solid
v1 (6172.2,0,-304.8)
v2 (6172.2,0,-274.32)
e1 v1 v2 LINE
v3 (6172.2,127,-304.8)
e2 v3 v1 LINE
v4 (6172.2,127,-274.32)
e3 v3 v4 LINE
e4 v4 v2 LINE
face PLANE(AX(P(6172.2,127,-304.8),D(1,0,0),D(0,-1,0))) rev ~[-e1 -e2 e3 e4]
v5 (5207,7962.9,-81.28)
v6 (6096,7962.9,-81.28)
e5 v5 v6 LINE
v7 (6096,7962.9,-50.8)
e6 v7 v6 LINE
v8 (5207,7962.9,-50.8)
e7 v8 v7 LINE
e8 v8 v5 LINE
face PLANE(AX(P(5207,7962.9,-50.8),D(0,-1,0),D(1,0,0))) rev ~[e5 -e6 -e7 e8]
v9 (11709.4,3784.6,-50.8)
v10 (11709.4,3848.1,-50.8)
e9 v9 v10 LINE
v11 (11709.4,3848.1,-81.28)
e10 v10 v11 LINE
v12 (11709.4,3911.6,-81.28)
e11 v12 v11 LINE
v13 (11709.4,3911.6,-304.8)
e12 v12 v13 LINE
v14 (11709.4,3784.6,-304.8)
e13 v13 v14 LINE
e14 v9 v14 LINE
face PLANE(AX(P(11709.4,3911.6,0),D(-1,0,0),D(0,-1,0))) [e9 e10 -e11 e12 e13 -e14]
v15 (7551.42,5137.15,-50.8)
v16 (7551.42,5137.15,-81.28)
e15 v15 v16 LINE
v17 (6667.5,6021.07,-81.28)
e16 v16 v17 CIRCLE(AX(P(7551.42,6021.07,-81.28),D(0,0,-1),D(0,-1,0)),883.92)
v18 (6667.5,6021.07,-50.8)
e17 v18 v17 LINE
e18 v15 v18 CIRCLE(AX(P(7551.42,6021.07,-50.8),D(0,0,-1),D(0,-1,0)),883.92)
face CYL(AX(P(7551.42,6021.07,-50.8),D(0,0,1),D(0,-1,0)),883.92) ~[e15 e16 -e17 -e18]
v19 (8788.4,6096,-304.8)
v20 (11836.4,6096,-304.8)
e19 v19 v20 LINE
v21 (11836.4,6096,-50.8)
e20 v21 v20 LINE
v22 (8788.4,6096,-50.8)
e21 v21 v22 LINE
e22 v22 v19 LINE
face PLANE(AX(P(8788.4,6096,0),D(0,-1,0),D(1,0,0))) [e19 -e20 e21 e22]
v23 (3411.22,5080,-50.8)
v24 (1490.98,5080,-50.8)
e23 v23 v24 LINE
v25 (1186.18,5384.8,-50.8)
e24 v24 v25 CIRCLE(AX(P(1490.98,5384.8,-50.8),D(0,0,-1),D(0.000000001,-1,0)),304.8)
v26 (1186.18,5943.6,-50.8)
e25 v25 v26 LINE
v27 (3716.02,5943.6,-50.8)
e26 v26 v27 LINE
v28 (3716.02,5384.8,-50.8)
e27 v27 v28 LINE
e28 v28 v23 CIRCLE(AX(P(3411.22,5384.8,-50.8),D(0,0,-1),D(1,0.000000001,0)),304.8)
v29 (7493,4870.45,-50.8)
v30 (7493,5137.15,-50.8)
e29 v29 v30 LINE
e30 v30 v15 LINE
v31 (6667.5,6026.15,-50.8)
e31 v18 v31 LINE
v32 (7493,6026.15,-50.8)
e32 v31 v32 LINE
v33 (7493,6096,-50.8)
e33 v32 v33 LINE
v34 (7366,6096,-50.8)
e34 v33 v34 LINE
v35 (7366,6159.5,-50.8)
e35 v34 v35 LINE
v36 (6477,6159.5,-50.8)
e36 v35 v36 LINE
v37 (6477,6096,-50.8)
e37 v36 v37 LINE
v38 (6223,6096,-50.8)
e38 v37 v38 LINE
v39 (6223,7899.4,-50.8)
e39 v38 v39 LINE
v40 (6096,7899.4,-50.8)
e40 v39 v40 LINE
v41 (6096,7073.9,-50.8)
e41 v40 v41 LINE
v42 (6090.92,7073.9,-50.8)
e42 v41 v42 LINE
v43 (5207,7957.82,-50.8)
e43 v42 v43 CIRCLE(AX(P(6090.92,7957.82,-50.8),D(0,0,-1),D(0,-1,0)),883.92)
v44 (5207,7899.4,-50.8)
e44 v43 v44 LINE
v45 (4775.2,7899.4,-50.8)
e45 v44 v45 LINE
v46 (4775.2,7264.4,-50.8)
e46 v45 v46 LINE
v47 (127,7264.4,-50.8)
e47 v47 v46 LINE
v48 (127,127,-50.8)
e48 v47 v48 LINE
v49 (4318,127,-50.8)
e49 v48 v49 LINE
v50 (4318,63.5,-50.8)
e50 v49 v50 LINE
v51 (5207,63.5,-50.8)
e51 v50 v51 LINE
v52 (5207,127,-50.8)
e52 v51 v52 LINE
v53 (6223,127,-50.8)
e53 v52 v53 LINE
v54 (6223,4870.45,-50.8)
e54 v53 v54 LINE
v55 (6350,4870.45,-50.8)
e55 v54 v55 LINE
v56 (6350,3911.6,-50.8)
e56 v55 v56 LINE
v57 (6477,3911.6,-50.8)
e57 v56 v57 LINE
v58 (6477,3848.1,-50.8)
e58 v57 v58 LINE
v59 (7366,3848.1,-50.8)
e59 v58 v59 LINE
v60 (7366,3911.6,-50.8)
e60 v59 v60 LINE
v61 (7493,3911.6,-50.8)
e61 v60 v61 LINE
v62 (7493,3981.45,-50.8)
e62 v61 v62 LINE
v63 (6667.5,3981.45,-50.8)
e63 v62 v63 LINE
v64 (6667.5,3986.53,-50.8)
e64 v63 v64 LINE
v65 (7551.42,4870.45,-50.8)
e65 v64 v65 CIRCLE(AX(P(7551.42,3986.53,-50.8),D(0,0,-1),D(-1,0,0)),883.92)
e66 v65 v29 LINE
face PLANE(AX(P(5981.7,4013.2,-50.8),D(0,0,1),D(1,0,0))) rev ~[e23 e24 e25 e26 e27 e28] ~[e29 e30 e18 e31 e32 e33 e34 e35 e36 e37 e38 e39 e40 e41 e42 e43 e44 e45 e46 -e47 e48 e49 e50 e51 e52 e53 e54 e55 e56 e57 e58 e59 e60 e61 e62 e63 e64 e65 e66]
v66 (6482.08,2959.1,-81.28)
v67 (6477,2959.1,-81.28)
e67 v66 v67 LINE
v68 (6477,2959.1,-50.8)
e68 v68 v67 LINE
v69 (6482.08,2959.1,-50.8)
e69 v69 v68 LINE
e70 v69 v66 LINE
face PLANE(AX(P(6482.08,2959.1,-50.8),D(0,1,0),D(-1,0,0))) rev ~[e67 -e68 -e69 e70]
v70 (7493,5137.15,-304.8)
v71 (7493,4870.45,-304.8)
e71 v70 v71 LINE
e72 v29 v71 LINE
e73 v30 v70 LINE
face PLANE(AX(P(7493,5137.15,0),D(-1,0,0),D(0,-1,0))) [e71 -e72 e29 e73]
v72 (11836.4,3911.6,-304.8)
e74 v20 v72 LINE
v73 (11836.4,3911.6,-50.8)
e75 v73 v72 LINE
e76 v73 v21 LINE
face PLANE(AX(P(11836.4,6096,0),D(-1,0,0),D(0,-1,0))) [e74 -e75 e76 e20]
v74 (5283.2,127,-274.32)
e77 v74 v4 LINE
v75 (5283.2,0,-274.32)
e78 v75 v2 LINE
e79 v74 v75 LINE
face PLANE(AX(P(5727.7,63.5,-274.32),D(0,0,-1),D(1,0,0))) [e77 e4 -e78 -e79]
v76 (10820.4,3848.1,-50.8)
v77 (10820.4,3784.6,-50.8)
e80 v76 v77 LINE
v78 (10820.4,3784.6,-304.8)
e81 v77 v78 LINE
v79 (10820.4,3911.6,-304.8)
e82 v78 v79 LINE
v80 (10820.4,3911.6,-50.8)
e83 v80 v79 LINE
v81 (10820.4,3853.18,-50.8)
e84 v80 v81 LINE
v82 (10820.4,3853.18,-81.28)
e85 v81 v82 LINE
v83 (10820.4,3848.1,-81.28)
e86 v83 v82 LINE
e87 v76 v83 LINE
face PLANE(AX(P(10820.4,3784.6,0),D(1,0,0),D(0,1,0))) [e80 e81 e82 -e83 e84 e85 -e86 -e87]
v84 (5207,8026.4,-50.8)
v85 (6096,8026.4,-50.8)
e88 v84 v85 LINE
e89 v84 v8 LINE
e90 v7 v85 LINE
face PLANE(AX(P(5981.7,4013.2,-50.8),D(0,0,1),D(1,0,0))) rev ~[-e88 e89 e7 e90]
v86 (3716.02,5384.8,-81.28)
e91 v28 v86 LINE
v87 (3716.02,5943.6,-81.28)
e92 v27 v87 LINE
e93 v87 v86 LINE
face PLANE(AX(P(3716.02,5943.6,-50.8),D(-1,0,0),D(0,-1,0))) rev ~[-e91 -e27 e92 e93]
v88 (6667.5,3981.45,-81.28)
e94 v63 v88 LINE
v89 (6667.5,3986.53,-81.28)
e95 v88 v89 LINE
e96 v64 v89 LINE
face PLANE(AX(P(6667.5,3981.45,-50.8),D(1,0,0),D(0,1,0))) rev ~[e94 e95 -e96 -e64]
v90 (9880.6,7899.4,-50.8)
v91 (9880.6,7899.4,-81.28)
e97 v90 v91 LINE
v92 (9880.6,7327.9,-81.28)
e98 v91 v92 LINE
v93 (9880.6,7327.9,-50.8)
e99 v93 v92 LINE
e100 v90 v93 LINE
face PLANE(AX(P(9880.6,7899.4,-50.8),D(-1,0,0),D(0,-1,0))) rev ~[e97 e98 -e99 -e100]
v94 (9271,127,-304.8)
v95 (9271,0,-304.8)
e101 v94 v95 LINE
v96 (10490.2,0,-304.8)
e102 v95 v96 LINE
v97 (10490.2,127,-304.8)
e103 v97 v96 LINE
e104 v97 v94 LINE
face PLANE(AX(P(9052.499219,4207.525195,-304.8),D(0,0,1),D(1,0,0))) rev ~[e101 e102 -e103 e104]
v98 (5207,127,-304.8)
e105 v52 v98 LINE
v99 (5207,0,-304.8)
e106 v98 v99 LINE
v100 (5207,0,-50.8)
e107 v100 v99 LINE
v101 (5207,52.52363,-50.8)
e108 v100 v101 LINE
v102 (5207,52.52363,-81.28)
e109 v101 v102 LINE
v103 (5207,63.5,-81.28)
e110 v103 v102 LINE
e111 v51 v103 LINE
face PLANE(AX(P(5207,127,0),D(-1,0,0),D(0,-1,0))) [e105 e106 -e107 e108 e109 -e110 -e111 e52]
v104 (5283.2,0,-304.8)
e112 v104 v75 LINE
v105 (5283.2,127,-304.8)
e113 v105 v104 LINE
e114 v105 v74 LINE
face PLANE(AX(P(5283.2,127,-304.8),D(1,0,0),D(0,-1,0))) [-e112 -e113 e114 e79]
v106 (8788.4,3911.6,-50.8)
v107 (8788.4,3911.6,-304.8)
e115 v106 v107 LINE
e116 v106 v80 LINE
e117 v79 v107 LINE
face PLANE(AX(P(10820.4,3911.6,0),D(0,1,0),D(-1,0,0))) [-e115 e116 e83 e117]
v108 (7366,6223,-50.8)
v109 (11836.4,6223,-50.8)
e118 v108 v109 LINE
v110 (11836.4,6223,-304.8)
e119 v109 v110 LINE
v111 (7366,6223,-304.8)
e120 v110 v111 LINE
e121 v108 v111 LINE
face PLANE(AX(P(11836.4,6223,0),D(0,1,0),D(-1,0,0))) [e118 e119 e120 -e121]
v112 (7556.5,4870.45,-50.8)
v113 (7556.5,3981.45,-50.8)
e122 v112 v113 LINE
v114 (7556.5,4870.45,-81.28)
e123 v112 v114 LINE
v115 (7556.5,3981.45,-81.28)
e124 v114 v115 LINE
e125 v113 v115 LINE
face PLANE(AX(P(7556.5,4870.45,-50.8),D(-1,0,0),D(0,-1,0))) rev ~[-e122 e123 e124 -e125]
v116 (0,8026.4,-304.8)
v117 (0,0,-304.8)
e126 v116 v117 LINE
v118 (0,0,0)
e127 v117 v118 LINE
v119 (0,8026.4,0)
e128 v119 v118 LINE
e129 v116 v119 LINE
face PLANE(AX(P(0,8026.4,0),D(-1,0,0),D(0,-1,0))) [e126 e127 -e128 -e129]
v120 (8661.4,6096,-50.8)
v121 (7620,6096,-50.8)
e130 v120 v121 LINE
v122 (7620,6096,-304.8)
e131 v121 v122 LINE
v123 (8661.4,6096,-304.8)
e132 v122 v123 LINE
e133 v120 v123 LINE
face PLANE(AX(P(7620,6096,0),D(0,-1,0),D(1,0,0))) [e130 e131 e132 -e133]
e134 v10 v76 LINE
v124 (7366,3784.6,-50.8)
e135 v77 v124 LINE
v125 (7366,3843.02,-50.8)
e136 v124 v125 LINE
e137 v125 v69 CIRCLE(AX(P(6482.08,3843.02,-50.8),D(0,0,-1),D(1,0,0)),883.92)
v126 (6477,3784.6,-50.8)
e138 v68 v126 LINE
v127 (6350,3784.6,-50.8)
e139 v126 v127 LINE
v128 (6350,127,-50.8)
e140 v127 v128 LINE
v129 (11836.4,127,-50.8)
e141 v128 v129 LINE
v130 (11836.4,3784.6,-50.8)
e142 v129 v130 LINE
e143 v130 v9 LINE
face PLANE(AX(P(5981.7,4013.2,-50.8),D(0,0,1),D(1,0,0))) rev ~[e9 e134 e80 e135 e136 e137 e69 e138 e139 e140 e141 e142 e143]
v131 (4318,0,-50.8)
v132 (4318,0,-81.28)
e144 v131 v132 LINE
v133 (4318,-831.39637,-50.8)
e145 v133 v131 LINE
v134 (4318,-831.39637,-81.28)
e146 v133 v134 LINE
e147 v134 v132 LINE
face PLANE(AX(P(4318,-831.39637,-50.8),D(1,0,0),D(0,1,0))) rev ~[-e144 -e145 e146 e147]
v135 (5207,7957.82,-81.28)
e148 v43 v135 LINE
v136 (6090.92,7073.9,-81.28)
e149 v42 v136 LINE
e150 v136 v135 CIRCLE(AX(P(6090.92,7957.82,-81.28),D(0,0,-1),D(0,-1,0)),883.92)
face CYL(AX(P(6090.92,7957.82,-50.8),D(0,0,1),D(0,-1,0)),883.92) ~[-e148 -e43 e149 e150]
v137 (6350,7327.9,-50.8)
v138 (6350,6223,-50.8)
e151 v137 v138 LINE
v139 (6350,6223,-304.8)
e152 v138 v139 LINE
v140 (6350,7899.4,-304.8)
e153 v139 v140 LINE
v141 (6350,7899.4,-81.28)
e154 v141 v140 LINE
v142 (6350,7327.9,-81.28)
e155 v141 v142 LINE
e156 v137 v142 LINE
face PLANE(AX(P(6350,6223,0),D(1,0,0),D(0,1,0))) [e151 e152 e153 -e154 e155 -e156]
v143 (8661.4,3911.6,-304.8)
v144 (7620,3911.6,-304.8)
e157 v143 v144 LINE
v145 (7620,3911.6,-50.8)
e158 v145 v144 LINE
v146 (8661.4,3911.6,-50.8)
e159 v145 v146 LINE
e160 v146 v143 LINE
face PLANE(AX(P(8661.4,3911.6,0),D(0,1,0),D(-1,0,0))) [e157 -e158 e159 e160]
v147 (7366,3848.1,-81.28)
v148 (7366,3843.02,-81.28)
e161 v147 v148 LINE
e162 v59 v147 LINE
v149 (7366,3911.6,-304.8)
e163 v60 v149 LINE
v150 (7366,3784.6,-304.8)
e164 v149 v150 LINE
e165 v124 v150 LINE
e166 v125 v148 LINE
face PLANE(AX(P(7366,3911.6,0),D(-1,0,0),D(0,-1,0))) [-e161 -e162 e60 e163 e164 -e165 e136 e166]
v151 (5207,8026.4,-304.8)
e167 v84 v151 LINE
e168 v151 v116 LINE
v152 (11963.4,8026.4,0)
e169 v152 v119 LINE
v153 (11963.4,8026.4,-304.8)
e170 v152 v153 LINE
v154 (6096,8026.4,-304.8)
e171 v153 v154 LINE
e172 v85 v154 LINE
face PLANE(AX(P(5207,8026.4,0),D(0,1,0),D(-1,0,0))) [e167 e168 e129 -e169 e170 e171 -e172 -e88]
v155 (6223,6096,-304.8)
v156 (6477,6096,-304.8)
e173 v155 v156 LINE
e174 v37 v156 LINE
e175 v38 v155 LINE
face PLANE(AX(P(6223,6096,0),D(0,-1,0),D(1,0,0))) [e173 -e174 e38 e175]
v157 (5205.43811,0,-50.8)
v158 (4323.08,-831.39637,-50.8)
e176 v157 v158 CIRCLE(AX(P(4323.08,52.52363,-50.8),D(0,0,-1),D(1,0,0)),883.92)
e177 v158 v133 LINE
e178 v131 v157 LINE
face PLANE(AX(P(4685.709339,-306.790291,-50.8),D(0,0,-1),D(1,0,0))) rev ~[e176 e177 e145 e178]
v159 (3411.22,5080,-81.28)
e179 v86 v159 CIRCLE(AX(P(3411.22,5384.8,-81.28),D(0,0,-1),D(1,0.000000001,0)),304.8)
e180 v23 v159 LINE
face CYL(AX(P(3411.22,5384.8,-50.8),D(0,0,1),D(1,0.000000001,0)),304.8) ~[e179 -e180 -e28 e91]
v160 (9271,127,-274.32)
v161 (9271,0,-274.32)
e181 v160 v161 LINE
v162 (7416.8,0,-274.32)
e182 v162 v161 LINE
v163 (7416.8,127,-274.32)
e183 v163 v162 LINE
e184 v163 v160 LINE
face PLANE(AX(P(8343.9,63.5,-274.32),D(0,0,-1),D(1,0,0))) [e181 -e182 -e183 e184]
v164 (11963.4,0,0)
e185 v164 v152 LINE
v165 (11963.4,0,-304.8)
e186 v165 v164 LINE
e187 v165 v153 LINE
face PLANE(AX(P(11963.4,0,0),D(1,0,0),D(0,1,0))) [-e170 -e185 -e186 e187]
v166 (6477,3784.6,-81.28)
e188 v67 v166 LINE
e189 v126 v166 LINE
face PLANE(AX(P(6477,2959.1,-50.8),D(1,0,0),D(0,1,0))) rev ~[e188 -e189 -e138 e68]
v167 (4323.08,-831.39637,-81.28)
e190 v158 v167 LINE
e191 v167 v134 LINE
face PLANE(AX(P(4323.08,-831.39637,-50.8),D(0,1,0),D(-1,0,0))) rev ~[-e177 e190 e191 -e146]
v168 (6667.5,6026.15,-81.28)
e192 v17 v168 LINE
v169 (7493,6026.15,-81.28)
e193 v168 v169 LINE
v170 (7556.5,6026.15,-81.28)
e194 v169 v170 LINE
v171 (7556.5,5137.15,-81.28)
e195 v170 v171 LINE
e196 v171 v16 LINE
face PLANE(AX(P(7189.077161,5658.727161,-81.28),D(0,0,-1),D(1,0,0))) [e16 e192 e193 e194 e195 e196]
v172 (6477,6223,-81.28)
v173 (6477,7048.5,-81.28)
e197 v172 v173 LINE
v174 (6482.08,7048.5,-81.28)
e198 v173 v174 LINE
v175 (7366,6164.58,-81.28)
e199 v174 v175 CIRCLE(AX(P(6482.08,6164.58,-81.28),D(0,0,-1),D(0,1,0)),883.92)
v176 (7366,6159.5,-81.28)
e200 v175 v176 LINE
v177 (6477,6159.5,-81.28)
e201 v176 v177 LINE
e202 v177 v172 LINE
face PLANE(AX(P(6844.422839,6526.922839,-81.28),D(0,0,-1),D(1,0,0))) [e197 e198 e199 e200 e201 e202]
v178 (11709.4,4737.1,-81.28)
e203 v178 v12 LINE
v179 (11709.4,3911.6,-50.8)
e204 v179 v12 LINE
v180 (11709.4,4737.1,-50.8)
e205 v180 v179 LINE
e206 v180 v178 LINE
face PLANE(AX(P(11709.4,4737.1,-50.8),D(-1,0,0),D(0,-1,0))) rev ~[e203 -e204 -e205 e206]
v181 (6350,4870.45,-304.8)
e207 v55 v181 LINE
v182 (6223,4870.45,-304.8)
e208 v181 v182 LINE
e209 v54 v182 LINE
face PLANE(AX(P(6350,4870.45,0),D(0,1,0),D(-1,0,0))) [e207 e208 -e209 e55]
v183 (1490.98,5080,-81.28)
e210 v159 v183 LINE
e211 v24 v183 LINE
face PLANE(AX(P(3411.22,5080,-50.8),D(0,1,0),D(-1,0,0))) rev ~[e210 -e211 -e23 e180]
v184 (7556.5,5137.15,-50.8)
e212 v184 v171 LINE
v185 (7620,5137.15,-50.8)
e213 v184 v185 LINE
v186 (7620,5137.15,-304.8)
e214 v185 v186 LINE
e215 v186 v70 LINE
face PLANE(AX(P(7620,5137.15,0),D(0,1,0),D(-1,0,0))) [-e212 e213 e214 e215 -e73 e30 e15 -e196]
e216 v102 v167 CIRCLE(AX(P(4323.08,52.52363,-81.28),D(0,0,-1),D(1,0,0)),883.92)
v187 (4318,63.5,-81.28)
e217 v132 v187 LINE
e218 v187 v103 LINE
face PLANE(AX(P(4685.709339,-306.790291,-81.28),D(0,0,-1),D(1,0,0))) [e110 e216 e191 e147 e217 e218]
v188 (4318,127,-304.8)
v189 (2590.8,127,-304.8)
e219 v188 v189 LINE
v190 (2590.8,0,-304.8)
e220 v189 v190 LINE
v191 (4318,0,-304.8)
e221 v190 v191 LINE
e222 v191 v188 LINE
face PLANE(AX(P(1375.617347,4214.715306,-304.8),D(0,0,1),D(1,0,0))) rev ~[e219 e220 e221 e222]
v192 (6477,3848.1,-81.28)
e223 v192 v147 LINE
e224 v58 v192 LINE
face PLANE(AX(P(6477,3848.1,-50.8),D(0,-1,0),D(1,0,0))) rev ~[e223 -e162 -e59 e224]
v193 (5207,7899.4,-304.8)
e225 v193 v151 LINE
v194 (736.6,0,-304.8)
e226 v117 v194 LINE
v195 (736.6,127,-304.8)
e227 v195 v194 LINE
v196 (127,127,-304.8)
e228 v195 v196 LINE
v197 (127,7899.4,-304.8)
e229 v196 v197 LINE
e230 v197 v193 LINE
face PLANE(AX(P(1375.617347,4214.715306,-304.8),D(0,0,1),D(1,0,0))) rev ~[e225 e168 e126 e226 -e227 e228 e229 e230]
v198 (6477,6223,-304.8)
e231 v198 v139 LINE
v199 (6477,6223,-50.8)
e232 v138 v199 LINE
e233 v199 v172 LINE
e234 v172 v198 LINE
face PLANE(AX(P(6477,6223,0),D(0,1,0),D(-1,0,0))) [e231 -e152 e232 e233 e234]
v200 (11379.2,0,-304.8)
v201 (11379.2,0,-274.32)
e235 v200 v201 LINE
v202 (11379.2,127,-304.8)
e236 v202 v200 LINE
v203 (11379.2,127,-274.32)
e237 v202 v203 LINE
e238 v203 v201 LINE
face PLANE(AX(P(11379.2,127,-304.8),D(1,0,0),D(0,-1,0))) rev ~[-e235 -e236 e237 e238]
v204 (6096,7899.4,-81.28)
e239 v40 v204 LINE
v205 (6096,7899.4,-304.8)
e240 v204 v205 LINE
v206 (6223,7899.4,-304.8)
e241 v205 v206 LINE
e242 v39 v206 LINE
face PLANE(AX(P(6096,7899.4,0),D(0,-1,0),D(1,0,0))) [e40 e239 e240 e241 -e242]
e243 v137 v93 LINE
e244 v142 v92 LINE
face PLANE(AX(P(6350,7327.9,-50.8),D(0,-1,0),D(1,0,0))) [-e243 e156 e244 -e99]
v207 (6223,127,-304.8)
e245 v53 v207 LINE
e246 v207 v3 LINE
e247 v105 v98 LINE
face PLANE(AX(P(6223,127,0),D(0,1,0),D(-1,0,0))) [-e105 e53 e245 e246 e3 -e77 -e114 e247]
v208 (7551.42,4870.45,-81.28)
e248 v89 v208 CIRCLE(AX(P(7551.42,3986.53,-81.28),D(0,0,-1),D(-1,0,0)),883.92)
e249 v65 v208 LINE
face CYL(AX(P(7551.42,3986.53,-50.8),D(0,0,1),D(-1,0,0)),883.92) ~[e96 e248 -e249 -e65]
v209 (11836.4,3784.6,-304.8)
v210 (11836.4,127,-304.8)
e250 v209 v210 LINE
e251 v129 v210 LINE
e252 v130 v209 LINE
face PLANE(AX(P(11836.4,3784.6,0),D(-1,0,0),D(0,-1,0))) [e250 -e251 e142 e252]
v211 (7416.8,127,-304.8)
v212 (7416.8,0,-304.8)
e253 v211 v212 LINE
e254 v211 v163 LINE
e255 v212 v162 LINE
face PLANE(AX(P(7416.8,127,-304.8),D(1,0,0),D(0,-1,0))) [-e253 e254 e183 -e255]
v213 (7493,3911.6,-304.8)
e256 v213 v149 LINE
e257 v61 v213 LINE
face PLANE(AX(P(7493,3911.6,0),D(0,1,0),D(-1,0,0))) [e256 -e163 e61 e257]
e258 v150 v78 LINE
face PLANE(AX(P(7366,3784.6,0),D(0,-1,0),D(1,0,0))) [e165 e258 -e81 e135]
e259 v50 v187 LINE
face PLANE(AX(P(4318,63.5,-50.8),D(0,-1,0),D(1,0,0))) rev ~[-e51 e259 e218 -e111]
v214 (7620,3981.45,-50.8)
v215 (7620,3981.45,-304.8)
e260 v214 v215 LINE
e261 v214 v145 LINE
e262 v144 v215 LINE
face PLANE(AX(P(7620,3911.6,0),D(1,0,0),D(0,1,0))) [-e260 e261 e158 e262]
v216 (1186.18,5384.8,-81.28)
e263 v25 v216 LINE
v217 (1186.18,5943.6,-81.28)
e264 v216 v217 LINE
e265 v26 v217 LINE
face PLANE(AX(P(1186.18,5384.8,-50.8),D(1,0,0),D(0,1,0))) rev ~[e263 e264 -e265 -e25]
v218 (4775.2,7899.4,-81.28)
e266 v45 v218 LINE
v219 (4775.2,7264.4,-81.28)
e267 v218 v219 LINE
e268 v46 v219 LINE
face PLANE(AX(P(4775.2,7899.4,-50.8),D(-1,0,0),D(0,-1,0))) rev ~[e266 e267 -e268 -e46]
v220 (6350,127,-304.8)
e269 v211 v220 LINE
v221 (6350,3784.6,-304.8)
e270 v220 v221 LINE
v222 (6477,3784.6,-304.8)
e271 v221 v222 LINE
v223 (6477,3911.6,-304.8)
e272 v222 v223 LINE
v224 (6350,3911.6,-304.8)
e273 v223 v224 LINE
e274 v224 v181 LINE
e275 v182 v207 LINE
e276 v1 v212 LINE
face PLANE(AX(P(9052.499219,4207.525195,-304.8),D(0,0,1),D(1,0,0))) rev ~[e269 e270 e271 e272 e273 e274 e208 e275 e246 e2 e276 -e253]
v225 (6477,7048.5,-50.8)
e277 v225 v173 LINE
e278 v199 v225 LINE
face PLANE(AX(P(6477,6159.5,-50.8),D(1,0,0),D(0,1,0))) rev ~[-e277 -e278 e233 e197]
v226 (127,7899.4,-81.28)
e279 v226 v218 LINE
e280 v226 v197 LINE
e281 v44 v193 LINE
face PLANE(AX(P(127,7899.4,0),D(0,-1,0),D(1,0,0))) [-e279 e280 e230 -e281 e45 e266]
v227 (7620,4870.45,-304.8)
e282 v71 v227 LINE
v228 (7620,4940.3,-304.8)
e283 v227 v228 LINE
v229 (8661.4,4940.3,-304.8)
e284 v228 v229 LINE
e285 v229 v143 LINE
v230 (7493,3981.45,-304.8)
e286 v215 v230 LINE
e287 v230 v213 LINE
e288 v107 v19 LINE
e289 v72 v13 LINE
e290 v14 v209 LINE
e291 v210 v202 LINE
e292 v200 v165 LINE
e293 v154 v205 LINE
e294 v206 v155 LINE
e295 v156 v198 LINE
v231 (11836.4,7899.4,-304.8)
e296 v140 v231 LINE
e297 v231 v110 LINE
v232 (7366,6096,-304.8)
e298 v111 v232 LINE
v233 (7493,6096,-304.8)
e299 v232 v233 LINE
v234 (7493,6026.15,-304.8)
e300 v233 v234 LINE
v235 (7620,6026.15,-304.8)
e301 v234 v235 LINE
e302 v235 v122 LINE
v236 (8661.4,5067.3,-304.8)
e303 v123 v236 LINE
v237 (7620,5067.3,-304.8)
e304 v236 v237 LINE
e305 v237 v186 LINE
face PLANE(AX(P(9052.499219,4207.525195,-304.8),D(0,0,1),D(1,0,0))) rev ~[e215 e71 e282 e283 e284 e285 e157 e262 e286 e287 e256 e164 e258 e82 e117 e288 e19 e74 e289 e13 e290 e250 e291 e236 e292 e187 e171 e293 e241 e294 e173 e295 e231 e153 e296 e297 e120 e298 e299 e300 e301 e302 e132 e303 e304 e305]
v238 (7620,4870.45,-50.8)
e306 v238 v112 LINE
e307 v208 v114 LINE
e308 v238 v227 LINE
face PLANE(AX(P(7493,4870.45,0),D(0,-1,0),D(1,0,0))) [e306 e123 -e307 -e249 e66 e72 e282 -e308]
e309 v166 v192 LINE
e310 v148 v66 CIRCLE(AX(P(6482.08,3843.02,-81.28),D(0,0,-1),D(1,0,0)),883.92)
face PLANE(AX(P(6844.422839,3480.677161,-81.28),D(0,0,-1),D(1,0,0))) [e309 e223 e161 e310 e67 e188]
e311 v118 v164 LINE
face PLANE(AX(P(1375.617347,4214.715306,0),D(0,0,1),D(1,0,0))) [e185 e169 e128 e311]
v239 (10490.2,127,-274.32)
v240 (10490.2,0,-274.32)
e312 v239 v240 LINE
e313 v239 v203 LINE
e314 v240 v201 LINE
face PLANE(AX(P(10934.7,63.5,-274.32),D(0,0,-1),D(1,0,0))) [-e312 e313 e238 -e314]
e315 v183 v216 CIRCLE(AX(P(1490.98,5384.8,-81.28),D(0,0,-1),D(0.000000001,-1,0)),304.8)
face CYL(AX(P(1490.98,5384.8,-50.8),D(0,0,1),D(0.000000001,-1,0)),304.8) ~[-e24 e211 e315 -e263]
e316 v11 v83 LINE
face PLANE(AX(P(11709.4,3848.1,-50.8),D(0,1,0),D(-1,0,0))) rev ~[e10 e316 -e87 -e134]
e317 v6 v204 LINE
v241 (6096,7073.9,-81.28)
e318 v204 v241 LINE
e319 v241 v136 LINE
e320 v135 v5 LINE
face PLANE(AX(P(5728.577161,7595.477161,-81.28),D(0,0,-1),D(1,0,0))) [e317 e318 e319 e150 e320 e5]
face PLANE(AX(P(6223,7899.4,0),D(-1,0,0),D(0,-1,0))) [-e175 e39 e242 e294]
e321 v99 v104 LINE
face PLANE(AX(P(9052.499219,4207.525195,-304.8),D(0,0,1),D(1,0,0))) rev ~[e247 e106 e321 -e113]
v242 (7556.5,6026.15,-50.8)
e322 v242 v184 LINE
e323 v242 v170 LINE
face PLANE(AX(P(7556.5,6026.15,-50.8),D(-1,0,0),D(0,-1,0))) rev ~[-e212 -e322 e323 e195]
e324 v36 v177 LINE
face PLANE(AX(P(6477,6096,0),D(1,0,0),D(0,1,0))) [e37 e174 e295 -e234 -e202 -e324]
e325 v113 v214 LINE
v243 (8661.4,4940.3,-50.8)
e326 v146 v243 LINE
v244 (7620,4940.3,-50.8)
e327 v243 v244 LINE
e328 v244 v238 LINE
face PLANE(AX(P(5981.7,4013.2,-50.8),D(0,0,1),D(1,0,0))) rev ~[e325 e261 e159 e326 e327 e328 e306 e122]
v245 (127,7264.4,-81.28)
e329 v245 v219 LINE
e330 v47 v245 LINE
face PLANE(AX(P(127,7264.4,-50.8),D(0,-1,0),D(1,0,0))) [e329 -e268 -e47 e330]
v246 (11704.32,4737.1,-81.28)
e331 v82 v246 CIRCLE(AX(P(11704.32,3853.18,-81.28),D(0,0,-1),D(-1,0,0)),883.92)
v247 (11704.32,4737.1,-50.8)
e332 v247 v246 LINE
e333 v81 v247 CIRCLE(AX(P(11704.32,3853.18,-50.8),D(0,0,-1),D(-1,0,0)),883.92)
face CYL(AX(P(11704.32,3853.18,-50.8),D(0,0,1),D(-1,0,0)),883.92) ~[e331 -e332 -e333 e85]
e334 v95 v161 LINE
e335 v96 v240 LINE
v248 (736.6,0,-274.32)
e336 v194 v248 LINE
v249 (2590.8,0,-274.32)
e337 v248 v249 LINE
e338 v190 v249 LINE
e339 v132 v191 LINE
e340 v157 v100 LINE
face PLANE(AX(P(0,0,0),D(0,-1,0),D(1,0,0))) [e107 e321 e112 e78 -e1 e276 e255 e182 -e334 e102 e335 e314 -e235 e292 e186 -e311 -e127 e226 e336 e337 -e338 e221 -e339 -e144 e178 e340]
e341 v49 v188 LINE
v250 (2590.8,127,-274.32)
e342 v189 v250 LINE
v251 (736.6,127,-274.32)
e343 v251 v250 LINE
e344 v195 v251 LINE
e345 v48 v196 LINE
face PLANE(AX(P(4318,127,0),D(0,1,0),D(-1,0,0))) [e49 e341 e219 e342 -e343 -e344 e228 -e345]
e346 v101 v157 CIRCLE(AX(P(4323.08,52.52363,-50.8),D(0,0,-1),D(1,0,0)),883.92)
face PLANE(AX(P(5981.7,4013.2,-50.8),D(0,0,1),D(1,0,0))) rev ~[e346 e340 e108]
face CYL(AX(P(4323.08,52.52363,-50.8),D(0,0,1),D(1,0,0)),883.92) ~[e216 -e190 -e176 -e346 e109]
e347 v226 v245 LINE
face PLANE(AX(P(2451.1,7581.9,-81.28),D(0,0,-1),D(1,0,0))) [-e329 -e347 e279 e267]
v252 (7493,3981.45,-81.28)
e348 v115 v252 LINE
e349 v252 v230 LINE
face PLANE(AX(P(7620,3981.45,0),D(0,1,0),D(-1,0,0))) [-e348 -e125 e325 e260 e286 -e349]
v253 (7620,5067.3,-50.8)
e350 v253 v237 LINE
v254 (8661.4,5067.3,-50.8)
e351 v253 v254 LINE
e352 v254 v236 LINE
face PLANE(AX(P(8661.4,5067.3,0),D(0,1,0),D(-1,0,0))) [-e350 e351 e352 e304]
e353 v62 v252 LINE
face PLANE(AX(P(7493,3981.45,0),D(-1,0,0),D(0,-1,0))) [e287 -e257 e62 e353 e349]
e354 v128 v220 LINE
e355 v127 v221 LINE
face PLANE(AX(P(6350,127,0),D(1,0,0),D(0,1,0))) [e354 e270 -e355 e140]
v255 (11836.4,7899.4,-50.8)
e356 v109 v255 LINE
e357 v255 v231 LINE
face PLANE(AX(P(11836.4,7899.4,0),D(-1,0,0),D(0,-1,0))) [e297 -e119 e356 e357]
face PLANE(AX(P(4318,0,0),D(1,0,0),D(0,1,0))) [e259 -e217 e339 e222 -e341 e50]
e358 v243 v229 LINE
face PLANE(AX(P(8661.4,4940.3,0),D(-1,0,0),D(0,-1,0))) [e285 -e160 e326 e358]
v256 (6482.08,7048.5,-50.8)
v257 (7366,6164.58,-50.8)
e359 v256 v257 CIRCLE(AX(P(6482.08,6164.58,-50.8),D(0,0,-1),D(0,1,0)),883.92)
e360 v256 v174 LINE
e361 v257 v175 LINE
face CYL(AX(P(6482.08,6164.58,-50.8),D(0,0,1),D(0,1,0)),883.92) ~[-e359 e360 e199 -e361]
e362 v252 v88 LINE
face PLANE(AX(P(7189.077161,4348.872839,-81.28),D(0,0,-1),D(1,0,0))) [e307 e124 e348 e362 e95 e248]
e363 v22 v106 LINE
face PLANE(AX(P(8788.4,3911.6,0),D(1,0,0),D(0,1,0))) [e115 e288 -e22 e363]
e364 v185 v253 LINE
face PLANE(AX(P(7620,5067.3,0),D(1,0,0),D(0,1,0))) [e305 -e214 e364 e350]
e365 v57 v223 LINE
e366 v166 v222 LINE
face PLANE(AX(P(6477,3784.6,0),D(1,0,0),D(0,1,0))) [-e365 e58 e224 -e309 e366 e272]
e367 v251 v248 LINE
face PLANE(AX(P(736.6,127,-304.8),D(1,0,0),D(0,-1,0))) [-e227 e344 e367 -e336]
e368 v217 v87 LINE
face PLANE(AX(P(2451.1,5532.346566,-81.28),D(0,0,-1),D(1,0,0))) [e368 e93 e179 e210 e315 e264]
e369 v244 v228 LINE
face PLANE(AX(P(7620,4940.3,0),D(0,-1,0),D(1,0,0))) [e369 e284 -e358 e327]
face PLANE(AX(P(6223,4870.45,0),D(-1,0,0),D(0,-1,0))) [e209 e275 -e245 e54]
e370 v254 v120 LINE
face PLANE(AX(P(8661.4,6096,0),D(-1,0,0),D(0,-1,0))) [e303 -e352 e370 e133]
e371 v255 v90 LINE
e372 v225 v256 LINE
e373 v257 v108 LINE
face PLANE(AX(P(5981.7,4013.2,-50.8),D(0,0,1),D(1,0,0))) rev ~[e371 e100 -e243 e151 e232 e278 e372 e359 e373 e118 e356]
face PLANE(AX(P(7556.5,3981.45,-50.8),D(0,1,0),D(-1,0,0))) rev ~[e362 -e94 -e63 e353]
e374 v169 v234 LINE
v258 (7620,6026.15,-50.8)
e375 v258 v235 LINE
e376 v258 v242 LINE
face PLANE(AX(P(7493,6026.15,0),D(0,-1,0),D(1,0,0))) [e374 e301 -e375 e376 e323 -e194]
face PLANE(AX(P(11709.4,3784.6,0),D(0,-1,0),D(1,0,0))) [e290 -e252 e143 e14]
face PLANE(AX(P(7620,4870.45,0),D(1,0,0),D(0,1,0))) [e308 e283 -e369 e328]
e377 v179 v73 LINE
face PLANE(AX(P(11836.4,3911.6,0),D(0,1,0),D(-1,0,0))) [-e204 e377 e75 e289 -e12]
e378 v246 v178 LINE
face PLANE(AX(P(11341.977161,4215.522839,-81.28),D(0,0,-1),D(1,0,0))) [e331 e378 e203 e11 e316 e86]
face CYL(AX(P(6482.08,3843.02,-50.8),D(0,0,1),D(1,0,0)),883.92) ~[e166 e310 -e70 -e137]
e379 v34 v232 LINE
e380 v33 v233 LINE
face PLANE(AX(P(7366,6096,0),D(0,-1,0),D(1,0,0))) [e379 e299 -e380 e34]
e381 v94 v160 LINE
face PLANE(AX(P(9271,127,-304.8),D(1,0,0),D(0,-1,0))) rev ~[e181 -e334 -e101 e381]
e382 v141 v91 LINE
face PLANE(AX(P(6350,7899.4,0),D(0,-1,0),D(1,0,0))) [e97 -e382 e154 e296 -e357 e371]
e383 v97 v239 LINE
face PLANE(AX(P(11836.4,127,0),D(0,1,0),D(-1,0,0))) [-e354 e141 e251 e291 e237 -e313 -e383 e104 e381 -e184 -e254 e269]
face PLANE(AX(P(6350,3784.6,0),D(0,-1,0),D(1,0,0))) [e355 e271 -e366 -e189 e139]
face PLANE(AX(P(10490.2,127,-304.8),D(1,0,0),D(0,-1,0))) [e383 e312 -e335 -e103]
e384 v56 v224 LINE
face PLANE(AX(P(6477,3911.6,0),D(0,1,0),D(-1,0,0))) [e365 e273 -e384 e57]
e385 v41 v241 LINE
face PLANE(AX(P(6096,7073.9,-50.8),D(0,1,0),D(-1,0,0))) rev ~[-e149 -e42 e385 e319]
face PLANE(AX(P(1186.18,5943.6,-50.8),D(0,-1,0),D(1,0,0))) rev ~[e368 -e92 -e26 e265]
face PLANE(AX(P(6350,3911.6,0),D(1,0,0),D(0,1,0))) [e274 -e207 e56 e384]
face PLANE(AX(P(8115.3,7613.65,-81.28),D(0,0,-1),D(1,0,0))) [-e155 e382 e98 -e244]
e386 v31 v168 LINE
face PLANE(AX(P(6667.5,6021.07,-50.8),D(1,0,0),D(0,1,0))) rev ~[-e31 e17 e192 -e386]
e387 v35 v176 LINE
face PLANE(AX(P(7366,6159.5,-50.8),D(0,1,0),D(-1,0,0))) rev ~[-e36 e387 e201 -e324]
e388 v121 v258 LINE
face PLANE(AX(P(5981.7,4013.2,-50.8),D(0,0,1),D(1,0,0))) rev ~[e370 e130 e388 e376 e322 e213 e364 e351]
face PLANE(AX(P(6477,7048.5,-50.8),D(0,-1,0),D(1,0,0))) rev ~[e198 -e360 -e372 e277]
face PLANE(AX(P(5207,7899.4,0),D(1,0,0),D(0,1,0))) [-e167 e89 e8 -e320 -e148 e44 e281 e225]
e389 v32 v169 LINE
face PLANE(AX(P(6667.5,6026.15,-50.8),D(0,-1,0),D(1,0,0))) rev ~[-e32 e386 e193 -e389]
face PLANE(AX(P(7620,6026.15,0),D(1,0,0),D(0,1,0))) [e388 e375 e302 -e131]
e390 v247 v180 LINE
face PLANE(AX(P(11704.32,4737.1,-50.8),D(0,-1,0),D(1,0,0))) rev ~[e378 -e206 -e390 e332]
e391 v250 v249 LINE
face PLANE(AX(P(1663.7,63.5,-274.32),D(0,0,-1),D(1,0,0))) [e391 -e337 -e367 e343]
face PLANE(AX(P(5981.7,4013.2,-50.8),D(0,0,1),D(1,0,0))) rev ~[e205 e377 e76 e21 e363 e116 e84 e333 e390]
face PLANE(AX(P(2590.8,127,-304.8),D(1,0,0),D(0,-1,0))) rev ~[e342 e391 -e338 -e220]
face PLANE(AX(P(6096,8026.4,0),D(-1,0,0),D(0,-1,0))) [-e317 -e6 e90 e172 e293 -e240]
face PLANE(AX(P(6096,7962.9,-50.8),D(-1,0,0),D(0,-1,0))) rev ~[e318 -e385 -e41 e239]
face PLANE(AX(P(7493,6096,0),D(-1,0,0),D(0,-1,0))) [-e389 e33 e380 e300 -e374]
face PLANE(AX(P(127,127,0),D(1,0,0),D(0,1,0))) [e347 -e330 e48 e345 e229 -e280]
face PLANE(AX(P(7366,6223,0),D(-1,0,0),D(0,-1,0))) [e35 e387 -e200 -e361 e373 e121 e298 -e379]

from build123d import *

# Parameters (mm, degrees)
F1_DEPTH = 304.8
F2_W     = 11963.4
F2_H     = 8026.4
F3_DEPTH = 50.8
F4_W     = 889
F4_H     = 127
F4_W_2   = 1854.2
F5_DEPTH = 30.48
F6_W     = 4648.2
F6_H     = 635
F6_W_2   = 3530.6
F6_H_2   = 571.5
F7_DEPTH = 30.48


with BuildPart() as f1:
    # F0 (on Top) → F1 (new body)
    with BuildSketch(Plane.XY):
        Polygon((4318, 127), (127, 127), (127, 7899.4), (5207, 7899.4), (5207, 8026.4), (0, 8026.4), (0, 0), (4318, 0), align=None)
        Polygon((11963.4, 8026.4), (6096, 8026.4), (6096, 7899.4), (6223, 7899.4), (6223, 6096), (6477, 6096), (6477, 6223), (6350, 6223), (6350, 7899.4), (11836.4, 7899.4), (11836.4, 6223), (7366, 6223), (7366, 6096), (7493, 6096), (7493, 6026.15), (7620, 6026.15), (7620, 6096), (8661.4, 6096), (8661.4, 5067.3), (7620, 5067.3), (7620, 5137.15), (7493, 5137.15), (7493, 4870.45), (7620, 4870.45), (7620, 4940.3), (8661.4, 4940.3), (8661.4, 3911.6), (7620, 3911.6), (7620, 3981.45), (7493, 3981.45), (7493, 3911.6), (7366, 3911.6), (7366, 3784.6), (10820.4, 3784.6), (10820.4, 3911.6), (8788.4, 3911.6), (8788.4, 6096), (11836.4, 6096), (11836.4, 3911.6), (11709.4, 3911.6), (11709.4, 3784.6), (11836.4, 3784.6), (11836.4, 127), (6350, 127), (6350, 3784.6), (6477, 3784.6), (6477, 3911.6), (6350, 3911.6), (6350, 4870.45), (6223, 4870.45), (6223, 127), (5207, 127), (5207, 0), (11963.4, 0), align=None)
    extrude(amount=-F1_DEPTH)

    # F2 (on face) → F3 (join)
    with BuildSketch(Plane.XY):
        with Locations((5981.7, 4013.2)):
            Rectangle(F2_W, F2_H)
    extrude(amount=-F3_DEPTH)

    # F4 (on face) → F5 (cut)
    with BuildSketch(Plane(origin=(0, 0, -304.8), x_dir=(1, 0, 0), z_dir=(0, 0, -1))):
        with Locations((5727.7, -63.5)):
            Rectangle(F4_W, F4_H)
        with Locations((8343.9, -63.5)):
            Rectangle(F4_W_2, F4_H)
        with Locations((10934.7, -63.5)):
            Rectangle(F4_W, F4_H)
        with Locations((1663.7, -63.5)):
            Rectangle(F4_W_2, F4_H)
    extrude(amount=-F5_DEPTH, mode=Mode.SUBTRACT)

    # F6 (on face) → F7 (join)
    with BuildSketch(Plane(origin=(0, 0, -50.8), x_dir=(1, 0, 0), z_dir=(0, 0, -1))):
        with BuildLine():
            ThreePointArc((3716.02, -5384.8), (3626.746147, -5169.273853), (3411.22, -5080))
            Line((3411.22, -5080), (1490.98, -5080))
            ThreePointArc((1490.98, -5080), (1275.453853, -5169.273853), (1186.18, -5384.8))
            Line((1186.18, -5384.8), (1186.18, -5943.6))
            Line((1186.18, -5943.6), (3716.02, -5943.6))
            Line((3716.02, -5943.6), (3716.02, -5384.8))
        make_face()
        with Locations((2451.1, -7581.9)):
            Rectangle(F6_W, F6_H)
        with Locations((8115.3, -7613.65)):
            Rectangle(F6_W_2, F6_H_2)
        with BuildLine():
            Line((4318, 831.39637), (4318, -63.5))
            Line((4318, -63.5), (5207, -63.5))
            Line((5207, -63.5), (5207, -52.52363))
            ThreePointArc((5207, -52.52363), (4948.105826, 572.502196), (4323.08, 831.39637))
            Line((4323.08, 831.39637), (4318, 831.39637))
        make_face()
        with BuildLine():
            Line((6477, -2959.1), (6477, -3848.1))
            Line((6477, -3848.1), (7366, -3848.1))
            Line((7366, -3848.1), (7366, -3843.02))
            ThreePointArc((7366, -3843.02), (7107.105826, -3217.994174), (6482.08, -2959.1))
            Line((6482.08, -2959.1), (6477, -2959.1))
        make_face()
        with BuildLine():
            Line((6667.5, -6026.15), (7556.5, -6026.15))
            Line((7556.5, -6026.15), (7556.5, -5137.15))
            Line((7556.5, -5137.15), (7551.42, -5137.15))
            ThreePointArc((7551.42, -5137.15), (6926.394174, -5396.044174), (6667.5, -6021.07))
            Line((6667.5, -6021.07), (6667.5, -6026.15))
        make_face()
        with BuildLine():
            Line((7556.5, -4870.45), (7556.5, -3981.45))
            Line((7556.5, -3981.45), (6667.5, -3981.45))
            Line((6667.5, -3981.45), (6667.5, -3986.53))
            ThreePointArc((6667.5, -3986.53), (6926.394174, -4611.555826), (7551.42, -4870.45))
            Line((7551.42, -4870.45), (7556.5, -4870.45))
        make_face()
        with BuildLine():
            Line((7366, -6159.5), (6477, -6159.5))
            Line((6477, -6159.5), (6477, -7048.5))
            Line((6477, -7048.5), (6482.08, -7048.5))
            ThreePointArc((6482.08, -7048.5), (7107.105826, -6789.605826), (7366, -6164.58))
            Line((7366, -6164.58), (7366, -6159.5))
        make_face()
        with BuildLine():
            Line((11709.4, -4737.1), (11709.4, -3848.1))
            Line((11709.4, -3848.1), (10820.4, -3848.1))
            Line((10820.4, -3848.1), (10820.4, -3853.18))
            ThreePointArc((10820.4, -3853.18), (11079.294174, -4478.205826), (11704.32, -4737.1))
            Line((11704.32, -4737.1), (11709.4, -4737.1))
        make_face()
        with BuildLine():
            Line((5207, -7957.82), (5207, -7962.9))
            Line((5207, -7962.9), (6096, -7962.9))
            Line((6096, -7962.9), (6096, -7073.9))
            Line((6096, -7073.9), (6090.92, -7073.9))
            ThreePointArc((6090.92, -7073.9), (5465.894174, -7332.794174), (5207, -7957.82))
        make_face()
    extrude(amount=F7_DEPTH)


solid = f1.part
